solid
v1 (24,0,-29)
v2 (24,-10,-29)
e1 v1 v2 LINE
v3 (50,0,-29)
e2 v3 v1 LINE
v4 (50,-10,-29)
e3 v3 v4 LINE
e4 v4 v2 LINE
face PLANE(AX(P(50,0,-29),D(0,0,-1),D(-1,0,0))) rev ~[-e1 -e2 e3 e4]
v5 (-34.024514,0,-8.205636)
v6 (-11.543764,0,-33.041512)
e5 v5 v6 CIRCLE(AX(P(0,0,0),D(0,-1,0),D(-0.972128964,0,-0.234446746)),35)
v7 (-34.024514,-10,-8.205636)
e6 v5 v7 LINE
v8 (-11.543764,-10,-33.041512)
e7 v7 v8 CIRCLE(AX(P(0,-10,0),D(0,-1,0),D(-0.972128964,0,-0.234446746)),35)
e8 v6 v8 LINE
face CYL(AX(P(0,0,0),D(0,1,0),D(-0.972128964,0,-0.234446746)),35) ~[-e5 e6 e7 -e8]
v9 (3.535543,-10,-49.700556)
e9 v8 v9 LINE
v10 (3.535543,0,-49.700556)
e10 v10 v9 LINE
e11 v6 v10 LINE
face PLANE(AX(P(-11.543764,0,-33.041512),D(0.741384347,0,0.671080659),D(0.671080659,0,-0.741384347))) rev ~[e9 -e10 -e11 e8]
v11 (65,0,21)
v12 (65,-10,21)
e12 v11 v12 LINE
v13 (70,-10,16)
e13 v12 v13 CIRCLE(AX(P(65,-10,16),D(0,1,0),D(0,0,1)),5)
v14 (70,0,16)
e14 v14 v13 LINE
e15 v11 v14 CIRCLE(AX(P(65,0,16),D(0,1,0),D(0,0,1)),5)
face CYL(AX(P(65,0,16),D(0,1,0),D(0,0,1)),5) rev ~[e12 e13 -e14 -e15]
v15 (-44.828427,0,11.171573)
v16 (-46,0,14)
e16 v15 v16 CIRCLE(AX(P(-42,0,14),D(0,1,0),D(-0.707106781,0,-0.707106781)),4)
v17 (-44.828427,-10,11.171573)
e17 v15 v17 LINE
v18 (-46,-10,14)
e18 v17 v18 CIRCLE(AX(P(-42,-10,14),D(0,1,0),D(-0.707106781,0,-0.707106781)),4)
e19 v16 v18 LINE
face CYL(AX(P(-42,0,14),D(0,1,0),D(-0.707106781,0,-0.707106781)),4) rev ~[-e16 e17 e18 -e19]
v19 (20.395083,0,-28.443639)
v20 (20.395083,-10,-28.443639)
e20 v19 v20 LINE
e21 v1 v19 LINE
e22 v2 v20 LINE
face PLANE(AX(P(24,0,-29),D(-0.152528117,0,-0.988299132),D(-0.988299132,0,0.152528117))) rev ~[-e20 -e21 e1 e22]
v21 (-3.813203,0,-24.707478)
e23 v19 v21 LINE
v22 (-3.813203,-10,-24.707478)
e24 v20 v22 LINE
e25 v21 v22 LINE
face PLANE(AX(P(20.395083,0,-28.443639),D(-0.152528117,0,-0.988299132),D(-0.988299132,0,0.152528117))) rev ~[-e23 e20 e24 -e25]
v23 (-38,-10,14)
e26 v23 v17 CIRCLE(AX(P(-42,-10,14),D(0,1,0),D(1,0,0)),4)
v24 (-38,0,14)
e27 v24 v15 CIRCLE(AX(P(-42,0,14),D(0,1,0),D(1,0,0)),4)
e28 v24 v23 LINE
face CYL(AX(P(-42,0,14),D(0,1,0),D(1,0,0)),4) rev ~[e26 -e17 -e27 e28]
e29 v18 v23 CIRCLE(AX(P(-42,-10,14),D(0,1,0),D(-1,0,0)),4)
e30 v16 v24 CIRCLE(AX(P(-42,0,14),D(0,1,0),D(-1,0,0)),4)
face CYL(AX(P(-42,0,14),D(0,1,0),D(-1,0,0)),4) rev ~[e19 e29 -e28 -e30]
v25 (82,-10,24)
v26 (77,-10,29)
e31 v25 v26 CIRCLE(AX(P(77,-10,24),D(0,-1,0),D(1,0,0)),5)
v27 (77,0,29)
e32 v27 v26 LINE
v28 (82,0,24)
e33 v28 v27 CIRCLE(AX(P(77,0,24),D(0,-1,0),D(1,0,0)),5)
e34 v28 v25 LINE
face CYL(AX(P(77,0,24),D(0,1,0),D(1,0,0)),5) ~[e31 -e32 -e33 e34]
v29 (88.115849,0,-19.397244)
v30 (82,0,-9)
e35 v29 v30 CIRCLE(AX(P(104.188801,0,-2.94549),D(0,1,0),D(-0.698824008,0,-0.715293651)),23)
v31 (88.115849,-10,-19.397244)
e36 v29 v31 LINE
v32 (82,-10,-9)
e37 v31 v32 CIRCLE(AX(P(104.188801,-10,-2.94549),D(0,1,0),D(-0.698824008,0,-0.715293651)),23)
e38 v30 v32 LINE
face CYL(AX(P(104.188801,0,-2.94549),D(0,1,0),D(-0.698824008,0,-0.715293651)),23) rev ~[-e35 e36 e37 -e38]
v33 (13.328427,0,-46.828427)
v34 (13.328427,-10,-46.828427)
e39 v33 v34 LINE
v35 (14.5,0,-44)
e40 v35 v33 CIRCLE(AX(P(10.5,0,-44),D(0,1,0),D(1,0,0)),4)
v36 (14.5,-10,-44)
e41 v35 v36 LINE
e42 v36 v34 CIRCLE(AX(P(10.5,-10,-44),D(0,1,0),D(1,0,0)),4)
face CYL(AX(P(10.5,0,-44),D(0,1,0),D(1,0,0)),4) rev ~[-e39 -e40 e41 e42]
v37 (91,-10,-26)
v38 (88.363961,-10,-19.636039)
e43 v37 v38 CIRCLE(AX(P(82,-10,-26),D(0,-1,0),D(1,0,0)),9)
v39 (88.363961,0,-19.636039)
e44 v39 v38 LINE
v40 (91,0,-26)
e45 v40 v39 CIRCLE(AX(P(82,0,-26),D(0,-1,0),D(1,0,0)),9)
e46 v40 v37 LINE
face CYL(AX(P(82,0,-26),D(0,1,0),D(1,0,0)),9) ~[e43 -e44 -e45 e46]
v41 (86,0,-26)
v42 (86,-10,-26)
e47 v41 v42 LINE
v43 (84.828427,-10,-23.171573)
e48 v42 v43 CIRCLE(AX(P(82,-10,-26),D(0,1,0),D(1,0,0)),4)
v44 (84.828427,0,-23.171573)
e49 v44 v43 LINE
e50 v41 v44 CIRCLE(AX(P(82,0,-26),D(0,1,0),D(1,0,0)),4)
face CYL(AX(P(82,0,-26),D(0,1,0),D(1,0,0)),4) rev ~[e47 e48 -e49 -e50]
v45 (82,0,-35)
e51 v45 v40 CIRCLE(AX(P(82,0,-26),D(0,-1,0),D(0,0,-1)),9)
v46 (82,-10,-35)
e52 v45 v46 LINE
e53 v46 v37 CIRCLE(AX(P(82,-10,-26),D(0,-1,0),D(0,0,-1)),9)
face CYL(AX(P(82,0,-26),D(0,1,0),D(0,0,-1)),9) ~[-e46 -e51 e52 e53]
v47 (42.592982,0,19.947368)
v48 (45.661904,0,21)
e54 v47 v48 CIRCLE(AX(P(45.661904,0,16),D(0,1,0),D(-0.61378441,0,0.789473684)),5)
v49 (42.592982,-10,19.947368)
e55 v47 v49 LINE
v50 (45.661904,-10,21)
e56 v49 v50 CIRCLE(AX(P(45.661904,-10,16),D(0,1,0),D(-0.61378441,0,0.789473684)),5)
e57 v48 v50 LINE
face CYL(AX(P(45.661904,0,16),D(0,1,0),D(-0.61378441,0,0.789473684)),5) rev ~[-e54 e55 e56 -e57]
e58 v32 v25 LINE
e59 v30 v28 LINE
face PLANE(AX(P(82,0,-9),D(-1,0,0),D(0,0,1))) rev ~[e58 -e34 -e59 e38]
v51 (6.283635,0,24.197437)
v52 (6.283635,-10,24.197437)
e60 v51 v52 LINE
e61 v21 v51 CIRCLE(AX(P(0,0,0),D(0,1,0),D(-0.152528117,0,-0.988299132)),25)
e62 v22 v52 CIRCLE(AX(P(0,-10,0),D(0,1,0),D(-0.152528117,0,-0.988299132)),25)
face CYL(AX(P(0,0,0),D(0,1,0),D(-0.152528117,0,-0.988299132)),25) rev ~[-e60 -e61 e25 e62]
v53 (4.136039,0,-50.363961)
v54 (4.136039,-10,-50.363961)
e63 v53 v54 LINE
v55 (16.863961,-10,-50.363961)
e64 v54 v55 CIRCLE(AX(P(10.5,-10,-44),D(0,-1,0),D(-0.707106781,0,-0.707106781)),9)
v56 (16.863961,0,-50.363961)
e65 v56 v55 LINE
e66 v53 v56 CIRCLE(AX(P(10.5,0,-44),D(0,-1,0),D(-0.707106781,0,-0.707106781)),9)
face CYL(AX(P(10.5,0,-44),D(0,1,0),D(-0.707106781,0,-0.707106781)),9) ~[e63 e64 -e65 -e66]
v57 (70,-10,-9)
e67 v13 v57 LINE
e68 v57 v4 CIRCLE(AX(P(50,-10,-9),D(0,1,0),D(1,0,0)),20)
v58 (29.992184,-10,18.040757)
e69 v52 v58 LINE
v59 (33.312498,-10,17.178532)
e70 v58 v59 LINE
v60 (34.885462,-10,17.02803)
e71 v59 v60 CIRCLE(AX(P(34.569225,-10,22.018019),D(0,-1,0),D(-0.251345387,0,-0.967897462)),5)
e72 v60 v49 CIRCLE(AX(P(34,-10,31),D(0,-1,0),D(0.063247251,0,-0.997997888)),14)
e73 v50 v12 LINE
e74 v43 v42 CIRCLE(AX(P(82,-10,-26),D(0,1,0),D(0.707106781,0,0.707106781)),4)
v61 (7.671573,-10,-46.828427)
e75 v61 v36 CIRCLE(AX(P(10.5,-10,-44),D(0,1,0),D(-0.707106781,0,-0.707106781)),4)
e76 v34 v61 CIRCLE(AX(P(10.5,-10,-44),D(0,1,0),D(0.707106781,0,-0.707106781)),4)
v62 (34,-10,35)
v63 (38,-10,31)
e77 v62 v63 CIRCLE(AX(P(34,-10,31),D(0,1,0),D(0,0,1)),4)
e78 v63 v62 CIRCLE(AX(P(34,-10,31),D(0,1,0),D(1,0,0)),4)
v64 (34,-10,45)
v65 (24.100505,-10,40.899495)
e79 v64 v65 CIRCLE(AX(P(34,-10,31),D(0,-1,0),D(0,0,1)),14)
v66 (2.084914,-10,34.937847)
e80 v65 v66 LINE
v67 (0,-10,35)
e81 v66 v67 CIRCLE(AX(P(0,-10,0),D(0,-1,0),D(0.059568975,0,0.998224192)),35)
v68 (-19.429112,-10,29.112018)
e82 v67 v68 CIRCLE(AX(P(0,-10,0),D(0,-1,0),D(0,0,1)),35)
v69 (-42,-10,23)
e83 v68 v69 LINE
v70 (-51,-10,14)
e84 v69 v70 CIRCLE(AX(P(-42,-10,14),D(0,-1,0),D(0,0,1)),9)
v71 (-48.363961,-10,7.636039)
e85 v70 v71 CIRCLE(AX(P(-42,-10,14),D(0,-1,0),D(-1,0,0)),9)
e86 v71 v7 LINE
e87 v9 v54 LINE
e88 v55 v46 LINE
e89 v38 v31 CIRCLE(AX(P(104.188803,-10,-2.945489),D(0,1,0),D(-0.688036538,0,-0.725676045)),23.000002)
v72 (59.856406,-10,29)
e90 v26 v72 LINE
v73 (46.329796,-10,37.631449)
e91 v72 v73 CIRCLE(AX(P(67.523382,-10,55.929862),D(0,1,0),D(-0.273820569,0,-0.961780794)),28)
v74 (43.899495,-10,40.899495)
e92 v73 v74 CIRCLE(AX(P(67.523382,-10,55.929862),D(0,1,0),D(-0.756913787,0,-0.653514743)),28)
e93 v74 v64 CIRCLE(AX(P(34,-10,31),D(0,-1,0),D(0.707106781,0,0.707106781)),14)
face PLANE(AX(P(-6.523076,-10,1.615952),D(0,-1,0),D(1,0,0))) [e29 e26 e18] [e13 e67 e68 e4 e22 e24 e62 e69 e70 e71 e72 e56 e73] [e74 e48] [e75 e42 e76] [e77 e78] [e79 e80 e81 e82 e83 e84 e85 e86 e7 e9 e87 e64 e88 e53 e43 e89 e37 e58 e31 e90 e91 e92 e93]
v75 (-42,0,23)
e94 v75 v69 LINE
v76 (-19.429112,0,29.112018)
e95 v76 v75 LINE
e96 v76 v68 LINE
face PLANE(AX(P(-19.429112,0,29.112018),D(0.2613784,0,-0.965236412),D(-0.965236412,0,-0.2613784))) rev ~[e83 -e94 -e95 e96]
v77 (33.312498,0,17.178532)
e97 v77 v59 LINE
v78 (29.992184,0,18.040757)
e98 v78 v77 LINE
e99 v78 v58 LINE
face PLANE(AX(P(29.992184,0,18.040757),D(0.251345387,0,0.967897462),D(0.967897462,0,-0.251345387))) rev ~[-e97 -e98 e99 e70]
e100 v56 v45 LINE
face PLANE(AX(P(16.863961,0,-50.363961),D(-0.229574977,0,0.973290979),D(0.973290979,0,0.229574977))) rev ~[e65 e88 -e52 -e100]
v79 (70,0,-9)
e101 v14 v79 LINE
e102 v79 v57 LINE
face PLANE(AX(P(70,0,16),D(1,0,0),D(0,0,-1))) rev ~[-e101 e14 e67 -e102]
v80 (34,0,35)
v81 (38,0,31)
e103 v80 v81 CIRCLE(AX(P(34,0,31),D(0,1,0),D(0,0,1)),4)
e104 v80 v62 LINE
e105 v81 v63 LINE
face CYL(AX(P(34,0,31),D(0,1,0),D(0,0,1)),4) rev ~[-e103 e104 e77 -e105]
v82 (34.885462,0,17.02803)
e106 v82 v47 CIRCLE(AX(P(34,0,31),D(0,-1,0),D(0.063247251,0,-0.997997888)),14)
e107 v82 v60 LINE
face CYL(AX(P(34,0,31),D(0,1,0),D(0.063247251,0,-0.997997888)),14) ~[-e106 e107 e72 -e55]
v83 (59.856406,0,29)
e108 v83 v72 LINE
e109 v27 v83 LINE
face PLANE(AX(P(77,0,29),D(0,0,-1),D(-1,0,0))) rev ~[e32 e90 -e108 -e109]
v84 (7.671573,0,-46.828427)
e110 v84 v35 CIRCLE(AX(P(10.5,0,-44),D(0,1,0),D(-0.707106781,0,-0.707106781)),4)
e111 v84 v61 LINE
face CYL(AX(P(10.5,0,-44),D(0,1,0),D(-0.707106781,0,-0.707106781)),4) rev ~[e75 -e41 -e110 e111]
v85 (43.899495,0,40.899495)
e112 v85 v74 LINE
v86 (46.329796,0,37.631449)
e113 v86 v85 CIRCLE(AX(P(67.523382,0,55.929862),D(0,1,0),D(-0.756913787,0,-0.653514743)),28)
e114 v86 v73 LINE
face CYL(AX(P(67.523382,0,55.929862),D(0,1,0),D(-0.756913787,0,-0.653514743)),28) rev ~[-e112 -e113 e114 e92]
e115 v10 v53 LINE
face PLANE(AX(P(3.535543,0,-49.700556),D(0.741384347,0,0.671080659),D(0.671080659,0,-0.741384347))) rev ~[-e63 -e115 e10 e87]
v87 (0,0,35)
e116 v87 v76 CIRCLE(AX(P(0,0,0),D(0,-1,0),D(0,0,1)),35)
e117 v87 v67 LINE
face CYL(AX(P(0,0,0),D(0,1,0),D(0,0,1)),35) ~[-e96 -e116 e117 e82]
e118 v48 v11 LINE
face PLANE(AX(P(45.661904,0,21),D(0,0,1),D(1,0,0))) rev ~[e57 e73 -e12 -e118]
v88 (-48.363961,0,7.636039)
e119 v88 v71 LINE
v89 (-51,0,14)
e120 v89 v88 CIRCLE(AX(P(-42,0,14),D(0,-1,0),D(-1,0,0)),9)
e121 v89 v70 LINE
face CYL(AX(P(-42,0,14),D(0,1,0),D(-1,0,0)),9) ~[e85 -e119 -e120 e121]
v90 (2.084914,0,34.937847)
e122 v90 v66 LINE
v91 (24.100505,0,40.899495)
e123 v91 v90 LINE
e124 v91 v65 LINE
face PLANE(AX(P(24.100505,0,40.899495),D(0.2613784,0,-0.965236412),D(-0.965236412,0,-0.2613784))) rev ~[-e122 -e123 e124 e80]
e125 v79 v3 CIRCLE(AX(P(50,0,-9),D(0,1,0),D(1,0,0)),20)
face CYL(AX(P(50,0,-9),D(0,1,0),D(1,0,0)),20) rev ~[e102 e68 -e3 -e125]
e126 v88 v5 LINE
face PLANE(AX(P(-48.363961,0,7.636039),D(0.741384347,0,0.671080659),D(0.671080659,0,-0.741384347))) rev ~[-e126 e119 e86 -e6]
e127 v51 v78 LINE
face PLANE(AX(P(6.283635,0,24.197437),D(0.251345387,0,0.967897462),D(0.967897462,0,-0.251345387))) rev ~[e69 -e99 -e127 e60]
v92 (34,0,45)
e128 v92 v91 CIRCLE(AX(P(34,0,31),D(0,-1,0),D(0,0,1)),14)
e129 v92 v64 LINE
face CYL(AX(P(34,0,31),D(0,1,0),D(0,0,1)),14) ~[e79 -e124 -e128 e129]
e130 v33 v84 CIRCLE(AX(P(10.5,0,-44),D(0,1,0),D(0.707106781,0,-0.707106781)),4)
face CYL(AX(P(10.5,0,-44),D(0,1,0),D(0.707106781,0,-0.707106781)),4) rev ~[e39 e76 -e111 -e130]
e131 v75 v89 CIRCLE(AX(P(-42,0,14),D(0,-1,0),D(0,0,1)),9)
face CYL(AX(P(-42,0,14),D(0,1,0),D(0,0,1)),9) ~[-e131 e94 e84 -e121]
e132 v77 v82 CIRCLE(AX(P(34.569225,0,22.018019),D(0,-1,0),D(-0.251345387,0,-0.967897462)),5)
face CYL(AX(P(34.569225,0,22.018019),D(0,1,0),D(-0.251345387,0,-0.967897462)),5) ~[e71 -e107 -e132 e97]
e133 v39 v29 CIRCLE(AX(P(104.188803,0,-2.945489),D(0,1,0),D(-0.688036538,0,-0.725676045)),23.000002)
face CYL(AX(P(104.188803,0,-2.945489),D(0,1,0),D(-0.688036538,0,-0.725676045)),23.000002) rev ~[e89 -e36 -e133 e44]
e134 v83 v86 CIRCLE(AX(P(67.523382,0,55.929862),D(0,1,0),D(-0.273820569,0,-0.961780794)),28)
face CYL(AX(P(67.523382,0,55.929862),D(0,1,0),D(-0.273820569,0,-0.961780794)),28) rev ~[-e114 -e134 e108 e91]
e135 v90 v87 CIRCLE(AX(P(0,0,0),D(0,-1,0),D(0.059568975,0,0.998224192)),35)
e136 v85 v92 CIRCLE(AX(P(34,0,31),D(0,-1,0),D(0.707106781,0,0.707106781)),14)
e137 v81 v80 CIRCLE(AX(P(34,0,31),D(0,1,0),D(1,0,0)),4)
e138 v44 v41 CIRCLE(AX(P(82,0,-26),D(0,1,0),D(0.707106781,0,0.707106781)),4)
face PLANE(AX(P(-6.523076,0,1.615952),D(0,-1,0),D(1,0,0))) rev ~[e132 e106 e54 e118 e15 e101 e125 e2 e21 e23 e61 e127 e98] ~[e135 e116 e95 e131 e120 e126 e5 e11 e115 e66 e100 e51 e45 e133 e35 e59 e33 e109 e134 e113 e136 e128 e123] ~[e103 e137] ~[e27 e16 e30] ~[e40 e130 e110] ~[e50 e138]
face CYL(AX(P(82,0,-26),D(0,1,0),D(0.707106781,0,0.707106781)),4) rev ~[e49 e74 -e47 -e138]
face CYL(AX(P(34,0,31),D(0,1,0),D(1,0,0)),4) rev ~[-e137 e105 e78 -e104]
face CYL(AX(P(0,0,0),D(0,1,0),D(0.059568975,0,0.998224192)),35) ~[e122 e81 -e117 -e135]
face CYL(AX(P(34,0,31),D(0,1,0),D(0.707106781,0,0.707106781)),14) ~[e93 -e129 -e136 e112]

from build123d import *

# Parameters (mm, degrees)
F1_DEPTH = 10


with BuildPart() as f1:
    # F0 (on Front) → F1 (new body)
    with BuildSketch(Plane.XZ):
        with BuildLine():
            ThreePointArc((-3.8132029324, -24.7074782889), (-24.4836360039, 5.0548558862), (6.2836346687, 24.197436545))
            Line((6.2836346687, 24.197436545), (29.9921837161, 18.0407570777))
            ThreePointArc((29.9921837161, 18.0407570777), (25.6485360936, 23.8149658042), (20.2117633339, 28.5741950531))
            ThreePointArc((20.2117633339, 28.5741950531), (13.4284415586, 32.3214627965), (5.9867921367, 34.48417492))
            ThreePointArc((5.9867921367, 34.48417492), (3.7099457558, 34.537913127), (1.4437370332, 34.7642210193))
            Line((1.4437370332, 34.7642210193), (-19.4291119296, 29.1120183022))
            ThreePointArc((-19.4291119296, 29.1120183022), (-22.058033075, 27.1743109731), (-24.4948974278, 25))
            ThreePointArc((-24.4948974278, 25), (-32.6951149804, 12.4911751417), (-34.924423398, -2.298836732))
            ThreePointArc((-34.924423398, -2.298836732), (-34.3740398023, -4.617901554), (-34.292856399, -7))
            ThreePointArc((-34.292856399, -7), (-34.1640037989, -7.6040018691), (-34.0245137483, -8.2056361236))
            Line((-34.0245137483, -8.2056361236), (-11.5437640984, -33.0415119273))
            ThreePointArc((-11.5437640984, -33.0415119273), (-5.8543608765, -34.506904508), (0, -35))
            ThreePointArc((0, -35), (10.7115040799, -33.3206194472), (20.3950829231, -28.4436388769))
            Line((20.3950829231, -28.4436388769), (-3.8132029324, -24.7074782889))
        make_face()
        with BuildLine():
            ThreePointArc((-34.924423398, -2.298836732), (-32.6951149804, 12.4911751417), (-24.4948974278, 25))
            ThreePointArc((-24.4948974278, 25), (-30.9315093384, 22.3189567832), (-37.8973419055, 22.0105053873))
            ThreePointArc((-37.8973419055, 22.0105053873), (-34.3213307517, 18.6944689343), (-33, 14))
            ThreePointArc((-33, 14), (-35.6360389693, 7.6360389693), (-42, 5))
            ThreePointArc((-42, 5), (-37.6511624472, 2.1368221432), (-34.924423398, -2.298836732))
        make_face()
        with BuildLine():
            Line((-48.3639610307, 7.6360389693), (-34.0245137483, -8.2056361236))
            ThreePointArc((-34.0245137483, -8.2056361236), (-34.1640037989, -7.6040018691), (-34.292856399, -7))
            ThreePointArc((-34.292856399, -7), (-34.6883725424, -4.6601298652), (-34.924423398, -2.298836732))
            ThreePointArc((-34.924423398, -2.298836732), (-37.6511624472, 2.1368221432), (-42, 5))
            ThreePointArc((-42, 5), (-45.4441508913, 5.6850842074), (-48.3639610307, 7.6360389693))
        make_face()
        with BuildLine():
            ThreePointArc((-24.4948974278, 25), (-22.058033075, 27.1743109731), (-19.4291119296, 29.1120183022))
            Line((-19.4291119296, 29.1120183022), (-42, 23))
            ThreePointArc((-42, 23), (-39.8898517215, 22.7491299135), (-37.8973419055, 22.0105053873))
            ThreePointArc((-37.8973419055, 22.0105053873), (-30.9315093384, 22.3189567832), (-24.4948974278, 25))
        make_face()
        with BuildLine():
            Line((-44.8284271247, 11.1715728753), (-48.3639610307, 7.6360389693))
            ThreePointArc((-48.3639610307, 7.6360389693), (-45.4441508913, 5.6850842074), (-42, 5))
            ThreePointArc((-42, 5), (-35.6360389693, 7.6360389693), (-33, 14))
            ThreePointArc((-33, 14), (-34.3213307517, 18.6944689343), (-37.8973419055, 22.0105053873))
            ThreePointArc((-37.8973419055, 22.0105053873), (-39.9748437487, 22.3967346363), (-42, 23))
            ThreePointArc((-42, 23), (-48.3639610307, 20.3639610307), (-51, 14))
            Line((-51, 14), (-46, 14))
            ThreePointArc((-46, 14), (-42, 18), (-38, 14))
            ThreePointArc((-38, 14), (-40.4692662705, 10.30448187), (-44.8284271247, 11.1715728753))
        make_face()
        with BuildLine():
            ThreePointArc((-51, 14), (-50.3149157926, 10.5558491087), (-48.3639610307, 7.6360389693))
            Line((-48.3639610307, 7.6360389693), (-44.8284271247, 11.1715728753))
            ThreePointArc((-44.8284271247, 11.1715728753), (-45.69551813, 12.4692662705), (-46, 14))
            Line((-46, 14), (-51, 14))
        make_face()
        with BuildLine():
            ThreePointArc((-37.8973419055, 22.0105053873), (-39.8898517215, 22.7491299135), (-42, 23))
            ThreePointArc((-42, 23), (-39.9748437487, 22.3967346363), (-37.8973419055, 22.0105053873))
        make_face()
        with BuildLine():
            ThreePointArc((-34.0245137483, -8.2056361236), (-25.9484521352, -23.4878230534), (-11.5437640984, -33.0415119273))
            Line((-11.5437640984, -33.0415119273), (-34.0245137483, -8.2056361236))
        make_face()
        with BuildLine():
            ThreePointArc((25.5, -35), (21.1329938541, -37.8036590333), (19.4051952997, -42.6971198545))
            ThreePointArc((19.4051952997, -42.6971198545), (19.4762675344, -43.3468375767), (19.5, -44))
            ThreePointArc((19.5, -44), (18.8149157926, -47.4441508913), (16.8639610307, -50.3639610307))
            Line((16.8639610307, -50.3639610307), (82, -35))
            Line((82, -35), (25.5, -35))
        make_face()
        with BuildLine():
            ThreePointArc((10.5, -35), (5.0043375198, -36.8727499059), (1.7957864602, -41.711623577))
            ThreePointArc((1.7957864602, -41.711623577), (1.7030233208, -42.8629376854), (1.5, -44))
            ThreePointArc((1.5, -44), (2.0241485384, -47.0265396083), (3.5355426668, -49.7005555918))
            Line((3.5355426668, -49.7005555918), (4.1360389693, -50.3639610307))
            Line((4.1360389693, -50.3639610307), (7.6715728753, -46.8284271247))
            ThreePointArc((7.6715728753, -46.8284271247), (8.9692662705, -40.30448187), (14.5, -44))
            ThreePointArc((14.5, -44), (14.19551813, -45.5307337295), (13.3284271247, -46.8284271247))
            Line((13.3284271247, -46.8284271247), (16.8639610307, -50.3639610307))
            ThreePointArc((16.8639610307, -50.3639610307), (18.8149157926, -47.4441508913), (19.5, -44))
            ThreePointArc((19.5, -44), (19.4259596727, -43.3504982525), (19.4051952997, -42.6971198545))
            ThreePointArc((19.4051952997, -42.6971198545), (16.3853240646, -37.190964778), (10.5, -35))
        make_face()
        with BuildLine():
            Line((25.5, -35), (10.5, -35))
            ThreePointArc((10.5, -35), (16.3853240646, -37.190964778), (19.4051952997, -42.6971198545))
            ThreePointArc((19.4051952997, -42.6971198545), (21.1329938541, -37.8036590333), (25.5, -35))
        make_face()
        with BuildLine():
            Line((7.6715728753, -46.8284271247), (4.1360389693, -50.3639610307))
            ThreePointArc((4.1360389693, -50.3639610307), (10.5, -53), (16.8639610307, -50.3639610307))
            Line((16.8639610307, -50.3639610307), (13.3284271247, -46.8284271247))
            ThreePointArc((13.3284271247, -46.8284271247), (10.5, -48), (7.6715728753, -46.8284271247))
        make_face()
        with BuildLine():
            ThreePointArc((1.7957864602, -41.711623577), (1.3942537218, -38.2230037667), (0, -35))
            ThreePointArc((0, -35), (-5.8543608765, -34.506904508), (-11.5437640984, -33.0415119273))
            Line((-11.5437640984, -33.0415119273), (3.5355426668, -49.7005555918))
            ThreePointArc((3.5355426668, -49.7005555918), (2.0241485384, -47.0265396083), (1.5, -44))
            ThreePointArc((1.5, -44), (1.5742529204, -42.8462933341), (1.7957864602, -41.711623577))
        make_face()
        with BuildLine():
            ThreePointArc((1.5, -44), (1.7030233208, -42.8629376854), (1.7957864602, -41.711623577))
            ThreePointArc((1.7957864602, -41.711623577), (1.5742529204, -42.8462933341), (1.5, -44))
        make_face()
        with BuildLine():
            Line((70, 16), (70, 0))
            Line((70, 0), (70, -9))
            ThreePointArc((70, -9), (64.1421356237, -23.1421356237), (50, -29))
            Line((50, -29), (24, -29))
            Line((24, -29), (20.3950829231, -28.4436388769))
            ThreePointArc((20.3950829231, -28.4436388769), (10.7115040799, -33.3206194472), (0, -35))
            ThreePointArc((0, -35), (1.3942537218, -38.2230037667), (1.7957864602, -41.711623577))
            ThreePointArc((1.7957864602, -41.711623577), (5.0043375198, -36.8727499059), (10.5, -35))
            Line((10.5, -35), (25.5, -35))
            Line((25.5, -35), (82, -35))
            ThreePointArc((82, -35), (73, -26), (82, -17))
            Line((82, -17), (82, -9))
            Line((82, -9), (82, 21))
            Line((82, 21), (82, 24))
            ThreePointArc((82, 24), (80.5355339059, 27.5355339059), (77, 29))
            Line((77, 29), (59.8564064606, 29))
            Line((59.8564064606, 29), (47.8564064606, 29))
            ThreePointArc((47.8564064606, 29), (46.4852813742, 24.666142644), (43.7979589711, 21))
            Line((43.7979589711, 21), (45.6619037897, 21))
            Line((45.6619037897, 21), (65, 21))
            ThreePointArc((65, 21), (68.5355339059, 19.5355339059), (70, 16))
        make_face()
        with BuildLine():
            ThreePointArc((20.2117633339, 28.5741950531), (25.6485360936, 23.8149658042), (29.9921837161, 18.0407570777))
            Line((29.9921837161, 18.0407570777), (33.3124983235, 17.1785316953))
            ThreePointArc((33.3124983235, 17.1785316953), (34.0929969479, 17.0407500145), (34.8854615113, 17.0280295623))
            ThreePointArc((34.8854615113, 17.0280295623), (38.9589168635, 17.9076685216), (42.5929817398, 19.9473684211))
            ThreePointArc((42.5929817398, 19.9473684211), (43.210520255, 20.4564561635), (43.7979589711, 21))
            ThreePointArc((43.7979589711, 21), (46.4852813742, 24.666142644), (47.8564064606, 29))
            ThreePointArc((47.8564064606, 29), (47.7860358491, 33.4382812734), (46.3297963636, 37.6314494368))
            ThreePointArc((46.3297963636, 37.6314494368), (45.0551489787, 39.221227134), (43.8994949366, 40.8994949366))
            ThreePointArc((43.8994949366, 40.8994949366), (39.3575680531, 43.9343134552), (34, 45))
            ThreePointArc((34, 45), (28.6424319469, 43.9343134552), (24.1005050634, 40.8994949366))
            ThreePointArc((24.1005050634, 40.8994949366), (20.6487674193, 35.2124326197), (20.2117633339, 28.5741950531))
        make_face()
        with BuildLine():
            ThreePointArc((38, 31), (31.1715728753, 28.1715728753), (34, 35))
            ThreePointArc((34, 35), (36.8284271247, 33.8284271247), (38, 31))
        make_face(mode=Mode.SUBTRACT)
        with BuildLine():
            ThreePointArc((5.9867921367, 34.48417492), (13.4284415586, 32.3214627965), (20.2117633339, 28.5741950531))
            ThreePointArc((20.2117633339, 28.5741950531), (20.6487674193, 35.2124326197), (24.1005050634, 40.8994949366))
            ThreePointArc((24.1005050634, 40.8994949366), (15.5712017516, 36.202283929), (5.9867921367, 34.48417492))
        make_face()
        with BuildLine():
            ThreePointArc((2.0849141286, 34.9378467149), (4.0422227837, 34.7657940362), (5.9867921367, 34.48417492))
            ThreePointArc((5.9867921367, 34.48417492), (15.5712017516, 36.202283929), (24.1005050634, 40.8994949366))
            Line((24.1005050634, 40.8994949366), (2.0849141286, 34.9378467149))
        make_face()
        with BuildLine():
            Line((-19.4291119296, 29.1120183022), (1.4437370332, 34.7642210193))
            ThreePointArc((1.4437370332, 34.7642210193), (0.7204311681, 34.8733092449), (0, 35))
            ThreePointArc((0, 35), (-10.1508462559, 33.4956761432), (-19.4291119296, 29.1120183022))
        make_face()
        with BuildLine():
            ThreePointArc((46.3297963636, 37.6314494368), (47.7860358491, 33.4382812734), (47.8564064606, 29))
            Line((47.8564064606, 29), (59.8564064606, 29))
            ThreePointArc((59.8564064606, 29), (52.4615601585, 32.3260169804), (46.3297963636, 37.6314494368))
        make_face()
        with BuildLine():
            ThreePointArc((82, -17), (73, -26), (82, -35))
            ThreePointArc((82, -35), (88.3639610307, -32.3639610307), (91, -26))
            ThreePointArc((91, -26), (90.3149157926, -22.5558491087), (88.3639610307, -19.6360389693))
            ThreePointArc((88.3639610307, -19.6360389693), (88.2394582184, -19.5171057842), (88.1158492341, -19.3972438978))
            ThreePointArc((88.1158492341, -19.3972438978), (85.2844478288, -17.6207158743), (82, -17))
        make_face()
        with BuildLine():
            ThreePointArc((86, -26), (78.30448187, -27.5307337295), (84.8284271247, -23.1715728753))
            ThreePointArc((84.8284271247, -23.1715728753), (85.69551813, -24.4692662705), (86, -26))
        make_face(mode=Mode.SUBTRACT)
        with BuildLine():
            Line((82, -9), (82, -17))
            ThreePointArc((82, -17), (85.2844478288, -17.6207158743), (88.1158492341, -19.3972438978))
            ThreePointArc((88.1158492341, -19.3972438978), (84.3641673141, -14.6067026972), (82, -9))
        make_face()
        with BuildLine():
            ThreePointArc((1.4437370332, 34.7642210193), (3.7099457558, 34.537913127), (5.9867921367, 34.48417492))
            ThreePointArc((5.9867921367, 34.48417492), (4.0422227837, 34.7657940362), (2.0849141286, 34.9378467149))
            Line((2.0849141286, 34.9378467149), (1.4437370332, 34.7642210193))
        make_face()
        with BuildLine():
            Line((1.4437370332, 34.7642210193), (2.0849141286, 34.9378467149))
            ThreePointArc((2.0849141286, 34.9378467149), (1.0429201737, 34.9844582281), (0, 35))
            ThreePointArc((0, 35), (0.7204311681, 34.8733092449), (1.4437370332, 34.7642210193))
        make_face()
        with BuildLine():
            ThreePointArc((-34.924423398, -2.298836732), (-34.6883725424, -4.6601298652), (-34.292856399, -7))
            ThreePointArc((-34.292856399, -7), (-34.3740398023, -4.617901554), (-34.924423398, -2.298836732))
        make_face()
        with BuildLine():
            ThreePointArc((19.5, -44), (19.4762675344, -43.3468375767), (19.4051952997, -42.6971198545))
            ThreePointArc((19.4051952997, -42.6971198545), (19.4259596727, -43.3504982525), (19.5, -44))
        make_face()
        with BuildLine():
            ThreePointArc((42.5929817398, 19.9473684211), (44.0396895784, 20.7295265146), (45.6619037897, 21))
            Line((45.6619037897, 21), (43.7979589711, 21))
            ThreePointArc((43.7979589711, 21), (43.210520255, 20.4564561635), (42.5929817398, 19.9473684211))
        make_face()
    extrude(amount=F1_DEPTH)


solid = f1.part
